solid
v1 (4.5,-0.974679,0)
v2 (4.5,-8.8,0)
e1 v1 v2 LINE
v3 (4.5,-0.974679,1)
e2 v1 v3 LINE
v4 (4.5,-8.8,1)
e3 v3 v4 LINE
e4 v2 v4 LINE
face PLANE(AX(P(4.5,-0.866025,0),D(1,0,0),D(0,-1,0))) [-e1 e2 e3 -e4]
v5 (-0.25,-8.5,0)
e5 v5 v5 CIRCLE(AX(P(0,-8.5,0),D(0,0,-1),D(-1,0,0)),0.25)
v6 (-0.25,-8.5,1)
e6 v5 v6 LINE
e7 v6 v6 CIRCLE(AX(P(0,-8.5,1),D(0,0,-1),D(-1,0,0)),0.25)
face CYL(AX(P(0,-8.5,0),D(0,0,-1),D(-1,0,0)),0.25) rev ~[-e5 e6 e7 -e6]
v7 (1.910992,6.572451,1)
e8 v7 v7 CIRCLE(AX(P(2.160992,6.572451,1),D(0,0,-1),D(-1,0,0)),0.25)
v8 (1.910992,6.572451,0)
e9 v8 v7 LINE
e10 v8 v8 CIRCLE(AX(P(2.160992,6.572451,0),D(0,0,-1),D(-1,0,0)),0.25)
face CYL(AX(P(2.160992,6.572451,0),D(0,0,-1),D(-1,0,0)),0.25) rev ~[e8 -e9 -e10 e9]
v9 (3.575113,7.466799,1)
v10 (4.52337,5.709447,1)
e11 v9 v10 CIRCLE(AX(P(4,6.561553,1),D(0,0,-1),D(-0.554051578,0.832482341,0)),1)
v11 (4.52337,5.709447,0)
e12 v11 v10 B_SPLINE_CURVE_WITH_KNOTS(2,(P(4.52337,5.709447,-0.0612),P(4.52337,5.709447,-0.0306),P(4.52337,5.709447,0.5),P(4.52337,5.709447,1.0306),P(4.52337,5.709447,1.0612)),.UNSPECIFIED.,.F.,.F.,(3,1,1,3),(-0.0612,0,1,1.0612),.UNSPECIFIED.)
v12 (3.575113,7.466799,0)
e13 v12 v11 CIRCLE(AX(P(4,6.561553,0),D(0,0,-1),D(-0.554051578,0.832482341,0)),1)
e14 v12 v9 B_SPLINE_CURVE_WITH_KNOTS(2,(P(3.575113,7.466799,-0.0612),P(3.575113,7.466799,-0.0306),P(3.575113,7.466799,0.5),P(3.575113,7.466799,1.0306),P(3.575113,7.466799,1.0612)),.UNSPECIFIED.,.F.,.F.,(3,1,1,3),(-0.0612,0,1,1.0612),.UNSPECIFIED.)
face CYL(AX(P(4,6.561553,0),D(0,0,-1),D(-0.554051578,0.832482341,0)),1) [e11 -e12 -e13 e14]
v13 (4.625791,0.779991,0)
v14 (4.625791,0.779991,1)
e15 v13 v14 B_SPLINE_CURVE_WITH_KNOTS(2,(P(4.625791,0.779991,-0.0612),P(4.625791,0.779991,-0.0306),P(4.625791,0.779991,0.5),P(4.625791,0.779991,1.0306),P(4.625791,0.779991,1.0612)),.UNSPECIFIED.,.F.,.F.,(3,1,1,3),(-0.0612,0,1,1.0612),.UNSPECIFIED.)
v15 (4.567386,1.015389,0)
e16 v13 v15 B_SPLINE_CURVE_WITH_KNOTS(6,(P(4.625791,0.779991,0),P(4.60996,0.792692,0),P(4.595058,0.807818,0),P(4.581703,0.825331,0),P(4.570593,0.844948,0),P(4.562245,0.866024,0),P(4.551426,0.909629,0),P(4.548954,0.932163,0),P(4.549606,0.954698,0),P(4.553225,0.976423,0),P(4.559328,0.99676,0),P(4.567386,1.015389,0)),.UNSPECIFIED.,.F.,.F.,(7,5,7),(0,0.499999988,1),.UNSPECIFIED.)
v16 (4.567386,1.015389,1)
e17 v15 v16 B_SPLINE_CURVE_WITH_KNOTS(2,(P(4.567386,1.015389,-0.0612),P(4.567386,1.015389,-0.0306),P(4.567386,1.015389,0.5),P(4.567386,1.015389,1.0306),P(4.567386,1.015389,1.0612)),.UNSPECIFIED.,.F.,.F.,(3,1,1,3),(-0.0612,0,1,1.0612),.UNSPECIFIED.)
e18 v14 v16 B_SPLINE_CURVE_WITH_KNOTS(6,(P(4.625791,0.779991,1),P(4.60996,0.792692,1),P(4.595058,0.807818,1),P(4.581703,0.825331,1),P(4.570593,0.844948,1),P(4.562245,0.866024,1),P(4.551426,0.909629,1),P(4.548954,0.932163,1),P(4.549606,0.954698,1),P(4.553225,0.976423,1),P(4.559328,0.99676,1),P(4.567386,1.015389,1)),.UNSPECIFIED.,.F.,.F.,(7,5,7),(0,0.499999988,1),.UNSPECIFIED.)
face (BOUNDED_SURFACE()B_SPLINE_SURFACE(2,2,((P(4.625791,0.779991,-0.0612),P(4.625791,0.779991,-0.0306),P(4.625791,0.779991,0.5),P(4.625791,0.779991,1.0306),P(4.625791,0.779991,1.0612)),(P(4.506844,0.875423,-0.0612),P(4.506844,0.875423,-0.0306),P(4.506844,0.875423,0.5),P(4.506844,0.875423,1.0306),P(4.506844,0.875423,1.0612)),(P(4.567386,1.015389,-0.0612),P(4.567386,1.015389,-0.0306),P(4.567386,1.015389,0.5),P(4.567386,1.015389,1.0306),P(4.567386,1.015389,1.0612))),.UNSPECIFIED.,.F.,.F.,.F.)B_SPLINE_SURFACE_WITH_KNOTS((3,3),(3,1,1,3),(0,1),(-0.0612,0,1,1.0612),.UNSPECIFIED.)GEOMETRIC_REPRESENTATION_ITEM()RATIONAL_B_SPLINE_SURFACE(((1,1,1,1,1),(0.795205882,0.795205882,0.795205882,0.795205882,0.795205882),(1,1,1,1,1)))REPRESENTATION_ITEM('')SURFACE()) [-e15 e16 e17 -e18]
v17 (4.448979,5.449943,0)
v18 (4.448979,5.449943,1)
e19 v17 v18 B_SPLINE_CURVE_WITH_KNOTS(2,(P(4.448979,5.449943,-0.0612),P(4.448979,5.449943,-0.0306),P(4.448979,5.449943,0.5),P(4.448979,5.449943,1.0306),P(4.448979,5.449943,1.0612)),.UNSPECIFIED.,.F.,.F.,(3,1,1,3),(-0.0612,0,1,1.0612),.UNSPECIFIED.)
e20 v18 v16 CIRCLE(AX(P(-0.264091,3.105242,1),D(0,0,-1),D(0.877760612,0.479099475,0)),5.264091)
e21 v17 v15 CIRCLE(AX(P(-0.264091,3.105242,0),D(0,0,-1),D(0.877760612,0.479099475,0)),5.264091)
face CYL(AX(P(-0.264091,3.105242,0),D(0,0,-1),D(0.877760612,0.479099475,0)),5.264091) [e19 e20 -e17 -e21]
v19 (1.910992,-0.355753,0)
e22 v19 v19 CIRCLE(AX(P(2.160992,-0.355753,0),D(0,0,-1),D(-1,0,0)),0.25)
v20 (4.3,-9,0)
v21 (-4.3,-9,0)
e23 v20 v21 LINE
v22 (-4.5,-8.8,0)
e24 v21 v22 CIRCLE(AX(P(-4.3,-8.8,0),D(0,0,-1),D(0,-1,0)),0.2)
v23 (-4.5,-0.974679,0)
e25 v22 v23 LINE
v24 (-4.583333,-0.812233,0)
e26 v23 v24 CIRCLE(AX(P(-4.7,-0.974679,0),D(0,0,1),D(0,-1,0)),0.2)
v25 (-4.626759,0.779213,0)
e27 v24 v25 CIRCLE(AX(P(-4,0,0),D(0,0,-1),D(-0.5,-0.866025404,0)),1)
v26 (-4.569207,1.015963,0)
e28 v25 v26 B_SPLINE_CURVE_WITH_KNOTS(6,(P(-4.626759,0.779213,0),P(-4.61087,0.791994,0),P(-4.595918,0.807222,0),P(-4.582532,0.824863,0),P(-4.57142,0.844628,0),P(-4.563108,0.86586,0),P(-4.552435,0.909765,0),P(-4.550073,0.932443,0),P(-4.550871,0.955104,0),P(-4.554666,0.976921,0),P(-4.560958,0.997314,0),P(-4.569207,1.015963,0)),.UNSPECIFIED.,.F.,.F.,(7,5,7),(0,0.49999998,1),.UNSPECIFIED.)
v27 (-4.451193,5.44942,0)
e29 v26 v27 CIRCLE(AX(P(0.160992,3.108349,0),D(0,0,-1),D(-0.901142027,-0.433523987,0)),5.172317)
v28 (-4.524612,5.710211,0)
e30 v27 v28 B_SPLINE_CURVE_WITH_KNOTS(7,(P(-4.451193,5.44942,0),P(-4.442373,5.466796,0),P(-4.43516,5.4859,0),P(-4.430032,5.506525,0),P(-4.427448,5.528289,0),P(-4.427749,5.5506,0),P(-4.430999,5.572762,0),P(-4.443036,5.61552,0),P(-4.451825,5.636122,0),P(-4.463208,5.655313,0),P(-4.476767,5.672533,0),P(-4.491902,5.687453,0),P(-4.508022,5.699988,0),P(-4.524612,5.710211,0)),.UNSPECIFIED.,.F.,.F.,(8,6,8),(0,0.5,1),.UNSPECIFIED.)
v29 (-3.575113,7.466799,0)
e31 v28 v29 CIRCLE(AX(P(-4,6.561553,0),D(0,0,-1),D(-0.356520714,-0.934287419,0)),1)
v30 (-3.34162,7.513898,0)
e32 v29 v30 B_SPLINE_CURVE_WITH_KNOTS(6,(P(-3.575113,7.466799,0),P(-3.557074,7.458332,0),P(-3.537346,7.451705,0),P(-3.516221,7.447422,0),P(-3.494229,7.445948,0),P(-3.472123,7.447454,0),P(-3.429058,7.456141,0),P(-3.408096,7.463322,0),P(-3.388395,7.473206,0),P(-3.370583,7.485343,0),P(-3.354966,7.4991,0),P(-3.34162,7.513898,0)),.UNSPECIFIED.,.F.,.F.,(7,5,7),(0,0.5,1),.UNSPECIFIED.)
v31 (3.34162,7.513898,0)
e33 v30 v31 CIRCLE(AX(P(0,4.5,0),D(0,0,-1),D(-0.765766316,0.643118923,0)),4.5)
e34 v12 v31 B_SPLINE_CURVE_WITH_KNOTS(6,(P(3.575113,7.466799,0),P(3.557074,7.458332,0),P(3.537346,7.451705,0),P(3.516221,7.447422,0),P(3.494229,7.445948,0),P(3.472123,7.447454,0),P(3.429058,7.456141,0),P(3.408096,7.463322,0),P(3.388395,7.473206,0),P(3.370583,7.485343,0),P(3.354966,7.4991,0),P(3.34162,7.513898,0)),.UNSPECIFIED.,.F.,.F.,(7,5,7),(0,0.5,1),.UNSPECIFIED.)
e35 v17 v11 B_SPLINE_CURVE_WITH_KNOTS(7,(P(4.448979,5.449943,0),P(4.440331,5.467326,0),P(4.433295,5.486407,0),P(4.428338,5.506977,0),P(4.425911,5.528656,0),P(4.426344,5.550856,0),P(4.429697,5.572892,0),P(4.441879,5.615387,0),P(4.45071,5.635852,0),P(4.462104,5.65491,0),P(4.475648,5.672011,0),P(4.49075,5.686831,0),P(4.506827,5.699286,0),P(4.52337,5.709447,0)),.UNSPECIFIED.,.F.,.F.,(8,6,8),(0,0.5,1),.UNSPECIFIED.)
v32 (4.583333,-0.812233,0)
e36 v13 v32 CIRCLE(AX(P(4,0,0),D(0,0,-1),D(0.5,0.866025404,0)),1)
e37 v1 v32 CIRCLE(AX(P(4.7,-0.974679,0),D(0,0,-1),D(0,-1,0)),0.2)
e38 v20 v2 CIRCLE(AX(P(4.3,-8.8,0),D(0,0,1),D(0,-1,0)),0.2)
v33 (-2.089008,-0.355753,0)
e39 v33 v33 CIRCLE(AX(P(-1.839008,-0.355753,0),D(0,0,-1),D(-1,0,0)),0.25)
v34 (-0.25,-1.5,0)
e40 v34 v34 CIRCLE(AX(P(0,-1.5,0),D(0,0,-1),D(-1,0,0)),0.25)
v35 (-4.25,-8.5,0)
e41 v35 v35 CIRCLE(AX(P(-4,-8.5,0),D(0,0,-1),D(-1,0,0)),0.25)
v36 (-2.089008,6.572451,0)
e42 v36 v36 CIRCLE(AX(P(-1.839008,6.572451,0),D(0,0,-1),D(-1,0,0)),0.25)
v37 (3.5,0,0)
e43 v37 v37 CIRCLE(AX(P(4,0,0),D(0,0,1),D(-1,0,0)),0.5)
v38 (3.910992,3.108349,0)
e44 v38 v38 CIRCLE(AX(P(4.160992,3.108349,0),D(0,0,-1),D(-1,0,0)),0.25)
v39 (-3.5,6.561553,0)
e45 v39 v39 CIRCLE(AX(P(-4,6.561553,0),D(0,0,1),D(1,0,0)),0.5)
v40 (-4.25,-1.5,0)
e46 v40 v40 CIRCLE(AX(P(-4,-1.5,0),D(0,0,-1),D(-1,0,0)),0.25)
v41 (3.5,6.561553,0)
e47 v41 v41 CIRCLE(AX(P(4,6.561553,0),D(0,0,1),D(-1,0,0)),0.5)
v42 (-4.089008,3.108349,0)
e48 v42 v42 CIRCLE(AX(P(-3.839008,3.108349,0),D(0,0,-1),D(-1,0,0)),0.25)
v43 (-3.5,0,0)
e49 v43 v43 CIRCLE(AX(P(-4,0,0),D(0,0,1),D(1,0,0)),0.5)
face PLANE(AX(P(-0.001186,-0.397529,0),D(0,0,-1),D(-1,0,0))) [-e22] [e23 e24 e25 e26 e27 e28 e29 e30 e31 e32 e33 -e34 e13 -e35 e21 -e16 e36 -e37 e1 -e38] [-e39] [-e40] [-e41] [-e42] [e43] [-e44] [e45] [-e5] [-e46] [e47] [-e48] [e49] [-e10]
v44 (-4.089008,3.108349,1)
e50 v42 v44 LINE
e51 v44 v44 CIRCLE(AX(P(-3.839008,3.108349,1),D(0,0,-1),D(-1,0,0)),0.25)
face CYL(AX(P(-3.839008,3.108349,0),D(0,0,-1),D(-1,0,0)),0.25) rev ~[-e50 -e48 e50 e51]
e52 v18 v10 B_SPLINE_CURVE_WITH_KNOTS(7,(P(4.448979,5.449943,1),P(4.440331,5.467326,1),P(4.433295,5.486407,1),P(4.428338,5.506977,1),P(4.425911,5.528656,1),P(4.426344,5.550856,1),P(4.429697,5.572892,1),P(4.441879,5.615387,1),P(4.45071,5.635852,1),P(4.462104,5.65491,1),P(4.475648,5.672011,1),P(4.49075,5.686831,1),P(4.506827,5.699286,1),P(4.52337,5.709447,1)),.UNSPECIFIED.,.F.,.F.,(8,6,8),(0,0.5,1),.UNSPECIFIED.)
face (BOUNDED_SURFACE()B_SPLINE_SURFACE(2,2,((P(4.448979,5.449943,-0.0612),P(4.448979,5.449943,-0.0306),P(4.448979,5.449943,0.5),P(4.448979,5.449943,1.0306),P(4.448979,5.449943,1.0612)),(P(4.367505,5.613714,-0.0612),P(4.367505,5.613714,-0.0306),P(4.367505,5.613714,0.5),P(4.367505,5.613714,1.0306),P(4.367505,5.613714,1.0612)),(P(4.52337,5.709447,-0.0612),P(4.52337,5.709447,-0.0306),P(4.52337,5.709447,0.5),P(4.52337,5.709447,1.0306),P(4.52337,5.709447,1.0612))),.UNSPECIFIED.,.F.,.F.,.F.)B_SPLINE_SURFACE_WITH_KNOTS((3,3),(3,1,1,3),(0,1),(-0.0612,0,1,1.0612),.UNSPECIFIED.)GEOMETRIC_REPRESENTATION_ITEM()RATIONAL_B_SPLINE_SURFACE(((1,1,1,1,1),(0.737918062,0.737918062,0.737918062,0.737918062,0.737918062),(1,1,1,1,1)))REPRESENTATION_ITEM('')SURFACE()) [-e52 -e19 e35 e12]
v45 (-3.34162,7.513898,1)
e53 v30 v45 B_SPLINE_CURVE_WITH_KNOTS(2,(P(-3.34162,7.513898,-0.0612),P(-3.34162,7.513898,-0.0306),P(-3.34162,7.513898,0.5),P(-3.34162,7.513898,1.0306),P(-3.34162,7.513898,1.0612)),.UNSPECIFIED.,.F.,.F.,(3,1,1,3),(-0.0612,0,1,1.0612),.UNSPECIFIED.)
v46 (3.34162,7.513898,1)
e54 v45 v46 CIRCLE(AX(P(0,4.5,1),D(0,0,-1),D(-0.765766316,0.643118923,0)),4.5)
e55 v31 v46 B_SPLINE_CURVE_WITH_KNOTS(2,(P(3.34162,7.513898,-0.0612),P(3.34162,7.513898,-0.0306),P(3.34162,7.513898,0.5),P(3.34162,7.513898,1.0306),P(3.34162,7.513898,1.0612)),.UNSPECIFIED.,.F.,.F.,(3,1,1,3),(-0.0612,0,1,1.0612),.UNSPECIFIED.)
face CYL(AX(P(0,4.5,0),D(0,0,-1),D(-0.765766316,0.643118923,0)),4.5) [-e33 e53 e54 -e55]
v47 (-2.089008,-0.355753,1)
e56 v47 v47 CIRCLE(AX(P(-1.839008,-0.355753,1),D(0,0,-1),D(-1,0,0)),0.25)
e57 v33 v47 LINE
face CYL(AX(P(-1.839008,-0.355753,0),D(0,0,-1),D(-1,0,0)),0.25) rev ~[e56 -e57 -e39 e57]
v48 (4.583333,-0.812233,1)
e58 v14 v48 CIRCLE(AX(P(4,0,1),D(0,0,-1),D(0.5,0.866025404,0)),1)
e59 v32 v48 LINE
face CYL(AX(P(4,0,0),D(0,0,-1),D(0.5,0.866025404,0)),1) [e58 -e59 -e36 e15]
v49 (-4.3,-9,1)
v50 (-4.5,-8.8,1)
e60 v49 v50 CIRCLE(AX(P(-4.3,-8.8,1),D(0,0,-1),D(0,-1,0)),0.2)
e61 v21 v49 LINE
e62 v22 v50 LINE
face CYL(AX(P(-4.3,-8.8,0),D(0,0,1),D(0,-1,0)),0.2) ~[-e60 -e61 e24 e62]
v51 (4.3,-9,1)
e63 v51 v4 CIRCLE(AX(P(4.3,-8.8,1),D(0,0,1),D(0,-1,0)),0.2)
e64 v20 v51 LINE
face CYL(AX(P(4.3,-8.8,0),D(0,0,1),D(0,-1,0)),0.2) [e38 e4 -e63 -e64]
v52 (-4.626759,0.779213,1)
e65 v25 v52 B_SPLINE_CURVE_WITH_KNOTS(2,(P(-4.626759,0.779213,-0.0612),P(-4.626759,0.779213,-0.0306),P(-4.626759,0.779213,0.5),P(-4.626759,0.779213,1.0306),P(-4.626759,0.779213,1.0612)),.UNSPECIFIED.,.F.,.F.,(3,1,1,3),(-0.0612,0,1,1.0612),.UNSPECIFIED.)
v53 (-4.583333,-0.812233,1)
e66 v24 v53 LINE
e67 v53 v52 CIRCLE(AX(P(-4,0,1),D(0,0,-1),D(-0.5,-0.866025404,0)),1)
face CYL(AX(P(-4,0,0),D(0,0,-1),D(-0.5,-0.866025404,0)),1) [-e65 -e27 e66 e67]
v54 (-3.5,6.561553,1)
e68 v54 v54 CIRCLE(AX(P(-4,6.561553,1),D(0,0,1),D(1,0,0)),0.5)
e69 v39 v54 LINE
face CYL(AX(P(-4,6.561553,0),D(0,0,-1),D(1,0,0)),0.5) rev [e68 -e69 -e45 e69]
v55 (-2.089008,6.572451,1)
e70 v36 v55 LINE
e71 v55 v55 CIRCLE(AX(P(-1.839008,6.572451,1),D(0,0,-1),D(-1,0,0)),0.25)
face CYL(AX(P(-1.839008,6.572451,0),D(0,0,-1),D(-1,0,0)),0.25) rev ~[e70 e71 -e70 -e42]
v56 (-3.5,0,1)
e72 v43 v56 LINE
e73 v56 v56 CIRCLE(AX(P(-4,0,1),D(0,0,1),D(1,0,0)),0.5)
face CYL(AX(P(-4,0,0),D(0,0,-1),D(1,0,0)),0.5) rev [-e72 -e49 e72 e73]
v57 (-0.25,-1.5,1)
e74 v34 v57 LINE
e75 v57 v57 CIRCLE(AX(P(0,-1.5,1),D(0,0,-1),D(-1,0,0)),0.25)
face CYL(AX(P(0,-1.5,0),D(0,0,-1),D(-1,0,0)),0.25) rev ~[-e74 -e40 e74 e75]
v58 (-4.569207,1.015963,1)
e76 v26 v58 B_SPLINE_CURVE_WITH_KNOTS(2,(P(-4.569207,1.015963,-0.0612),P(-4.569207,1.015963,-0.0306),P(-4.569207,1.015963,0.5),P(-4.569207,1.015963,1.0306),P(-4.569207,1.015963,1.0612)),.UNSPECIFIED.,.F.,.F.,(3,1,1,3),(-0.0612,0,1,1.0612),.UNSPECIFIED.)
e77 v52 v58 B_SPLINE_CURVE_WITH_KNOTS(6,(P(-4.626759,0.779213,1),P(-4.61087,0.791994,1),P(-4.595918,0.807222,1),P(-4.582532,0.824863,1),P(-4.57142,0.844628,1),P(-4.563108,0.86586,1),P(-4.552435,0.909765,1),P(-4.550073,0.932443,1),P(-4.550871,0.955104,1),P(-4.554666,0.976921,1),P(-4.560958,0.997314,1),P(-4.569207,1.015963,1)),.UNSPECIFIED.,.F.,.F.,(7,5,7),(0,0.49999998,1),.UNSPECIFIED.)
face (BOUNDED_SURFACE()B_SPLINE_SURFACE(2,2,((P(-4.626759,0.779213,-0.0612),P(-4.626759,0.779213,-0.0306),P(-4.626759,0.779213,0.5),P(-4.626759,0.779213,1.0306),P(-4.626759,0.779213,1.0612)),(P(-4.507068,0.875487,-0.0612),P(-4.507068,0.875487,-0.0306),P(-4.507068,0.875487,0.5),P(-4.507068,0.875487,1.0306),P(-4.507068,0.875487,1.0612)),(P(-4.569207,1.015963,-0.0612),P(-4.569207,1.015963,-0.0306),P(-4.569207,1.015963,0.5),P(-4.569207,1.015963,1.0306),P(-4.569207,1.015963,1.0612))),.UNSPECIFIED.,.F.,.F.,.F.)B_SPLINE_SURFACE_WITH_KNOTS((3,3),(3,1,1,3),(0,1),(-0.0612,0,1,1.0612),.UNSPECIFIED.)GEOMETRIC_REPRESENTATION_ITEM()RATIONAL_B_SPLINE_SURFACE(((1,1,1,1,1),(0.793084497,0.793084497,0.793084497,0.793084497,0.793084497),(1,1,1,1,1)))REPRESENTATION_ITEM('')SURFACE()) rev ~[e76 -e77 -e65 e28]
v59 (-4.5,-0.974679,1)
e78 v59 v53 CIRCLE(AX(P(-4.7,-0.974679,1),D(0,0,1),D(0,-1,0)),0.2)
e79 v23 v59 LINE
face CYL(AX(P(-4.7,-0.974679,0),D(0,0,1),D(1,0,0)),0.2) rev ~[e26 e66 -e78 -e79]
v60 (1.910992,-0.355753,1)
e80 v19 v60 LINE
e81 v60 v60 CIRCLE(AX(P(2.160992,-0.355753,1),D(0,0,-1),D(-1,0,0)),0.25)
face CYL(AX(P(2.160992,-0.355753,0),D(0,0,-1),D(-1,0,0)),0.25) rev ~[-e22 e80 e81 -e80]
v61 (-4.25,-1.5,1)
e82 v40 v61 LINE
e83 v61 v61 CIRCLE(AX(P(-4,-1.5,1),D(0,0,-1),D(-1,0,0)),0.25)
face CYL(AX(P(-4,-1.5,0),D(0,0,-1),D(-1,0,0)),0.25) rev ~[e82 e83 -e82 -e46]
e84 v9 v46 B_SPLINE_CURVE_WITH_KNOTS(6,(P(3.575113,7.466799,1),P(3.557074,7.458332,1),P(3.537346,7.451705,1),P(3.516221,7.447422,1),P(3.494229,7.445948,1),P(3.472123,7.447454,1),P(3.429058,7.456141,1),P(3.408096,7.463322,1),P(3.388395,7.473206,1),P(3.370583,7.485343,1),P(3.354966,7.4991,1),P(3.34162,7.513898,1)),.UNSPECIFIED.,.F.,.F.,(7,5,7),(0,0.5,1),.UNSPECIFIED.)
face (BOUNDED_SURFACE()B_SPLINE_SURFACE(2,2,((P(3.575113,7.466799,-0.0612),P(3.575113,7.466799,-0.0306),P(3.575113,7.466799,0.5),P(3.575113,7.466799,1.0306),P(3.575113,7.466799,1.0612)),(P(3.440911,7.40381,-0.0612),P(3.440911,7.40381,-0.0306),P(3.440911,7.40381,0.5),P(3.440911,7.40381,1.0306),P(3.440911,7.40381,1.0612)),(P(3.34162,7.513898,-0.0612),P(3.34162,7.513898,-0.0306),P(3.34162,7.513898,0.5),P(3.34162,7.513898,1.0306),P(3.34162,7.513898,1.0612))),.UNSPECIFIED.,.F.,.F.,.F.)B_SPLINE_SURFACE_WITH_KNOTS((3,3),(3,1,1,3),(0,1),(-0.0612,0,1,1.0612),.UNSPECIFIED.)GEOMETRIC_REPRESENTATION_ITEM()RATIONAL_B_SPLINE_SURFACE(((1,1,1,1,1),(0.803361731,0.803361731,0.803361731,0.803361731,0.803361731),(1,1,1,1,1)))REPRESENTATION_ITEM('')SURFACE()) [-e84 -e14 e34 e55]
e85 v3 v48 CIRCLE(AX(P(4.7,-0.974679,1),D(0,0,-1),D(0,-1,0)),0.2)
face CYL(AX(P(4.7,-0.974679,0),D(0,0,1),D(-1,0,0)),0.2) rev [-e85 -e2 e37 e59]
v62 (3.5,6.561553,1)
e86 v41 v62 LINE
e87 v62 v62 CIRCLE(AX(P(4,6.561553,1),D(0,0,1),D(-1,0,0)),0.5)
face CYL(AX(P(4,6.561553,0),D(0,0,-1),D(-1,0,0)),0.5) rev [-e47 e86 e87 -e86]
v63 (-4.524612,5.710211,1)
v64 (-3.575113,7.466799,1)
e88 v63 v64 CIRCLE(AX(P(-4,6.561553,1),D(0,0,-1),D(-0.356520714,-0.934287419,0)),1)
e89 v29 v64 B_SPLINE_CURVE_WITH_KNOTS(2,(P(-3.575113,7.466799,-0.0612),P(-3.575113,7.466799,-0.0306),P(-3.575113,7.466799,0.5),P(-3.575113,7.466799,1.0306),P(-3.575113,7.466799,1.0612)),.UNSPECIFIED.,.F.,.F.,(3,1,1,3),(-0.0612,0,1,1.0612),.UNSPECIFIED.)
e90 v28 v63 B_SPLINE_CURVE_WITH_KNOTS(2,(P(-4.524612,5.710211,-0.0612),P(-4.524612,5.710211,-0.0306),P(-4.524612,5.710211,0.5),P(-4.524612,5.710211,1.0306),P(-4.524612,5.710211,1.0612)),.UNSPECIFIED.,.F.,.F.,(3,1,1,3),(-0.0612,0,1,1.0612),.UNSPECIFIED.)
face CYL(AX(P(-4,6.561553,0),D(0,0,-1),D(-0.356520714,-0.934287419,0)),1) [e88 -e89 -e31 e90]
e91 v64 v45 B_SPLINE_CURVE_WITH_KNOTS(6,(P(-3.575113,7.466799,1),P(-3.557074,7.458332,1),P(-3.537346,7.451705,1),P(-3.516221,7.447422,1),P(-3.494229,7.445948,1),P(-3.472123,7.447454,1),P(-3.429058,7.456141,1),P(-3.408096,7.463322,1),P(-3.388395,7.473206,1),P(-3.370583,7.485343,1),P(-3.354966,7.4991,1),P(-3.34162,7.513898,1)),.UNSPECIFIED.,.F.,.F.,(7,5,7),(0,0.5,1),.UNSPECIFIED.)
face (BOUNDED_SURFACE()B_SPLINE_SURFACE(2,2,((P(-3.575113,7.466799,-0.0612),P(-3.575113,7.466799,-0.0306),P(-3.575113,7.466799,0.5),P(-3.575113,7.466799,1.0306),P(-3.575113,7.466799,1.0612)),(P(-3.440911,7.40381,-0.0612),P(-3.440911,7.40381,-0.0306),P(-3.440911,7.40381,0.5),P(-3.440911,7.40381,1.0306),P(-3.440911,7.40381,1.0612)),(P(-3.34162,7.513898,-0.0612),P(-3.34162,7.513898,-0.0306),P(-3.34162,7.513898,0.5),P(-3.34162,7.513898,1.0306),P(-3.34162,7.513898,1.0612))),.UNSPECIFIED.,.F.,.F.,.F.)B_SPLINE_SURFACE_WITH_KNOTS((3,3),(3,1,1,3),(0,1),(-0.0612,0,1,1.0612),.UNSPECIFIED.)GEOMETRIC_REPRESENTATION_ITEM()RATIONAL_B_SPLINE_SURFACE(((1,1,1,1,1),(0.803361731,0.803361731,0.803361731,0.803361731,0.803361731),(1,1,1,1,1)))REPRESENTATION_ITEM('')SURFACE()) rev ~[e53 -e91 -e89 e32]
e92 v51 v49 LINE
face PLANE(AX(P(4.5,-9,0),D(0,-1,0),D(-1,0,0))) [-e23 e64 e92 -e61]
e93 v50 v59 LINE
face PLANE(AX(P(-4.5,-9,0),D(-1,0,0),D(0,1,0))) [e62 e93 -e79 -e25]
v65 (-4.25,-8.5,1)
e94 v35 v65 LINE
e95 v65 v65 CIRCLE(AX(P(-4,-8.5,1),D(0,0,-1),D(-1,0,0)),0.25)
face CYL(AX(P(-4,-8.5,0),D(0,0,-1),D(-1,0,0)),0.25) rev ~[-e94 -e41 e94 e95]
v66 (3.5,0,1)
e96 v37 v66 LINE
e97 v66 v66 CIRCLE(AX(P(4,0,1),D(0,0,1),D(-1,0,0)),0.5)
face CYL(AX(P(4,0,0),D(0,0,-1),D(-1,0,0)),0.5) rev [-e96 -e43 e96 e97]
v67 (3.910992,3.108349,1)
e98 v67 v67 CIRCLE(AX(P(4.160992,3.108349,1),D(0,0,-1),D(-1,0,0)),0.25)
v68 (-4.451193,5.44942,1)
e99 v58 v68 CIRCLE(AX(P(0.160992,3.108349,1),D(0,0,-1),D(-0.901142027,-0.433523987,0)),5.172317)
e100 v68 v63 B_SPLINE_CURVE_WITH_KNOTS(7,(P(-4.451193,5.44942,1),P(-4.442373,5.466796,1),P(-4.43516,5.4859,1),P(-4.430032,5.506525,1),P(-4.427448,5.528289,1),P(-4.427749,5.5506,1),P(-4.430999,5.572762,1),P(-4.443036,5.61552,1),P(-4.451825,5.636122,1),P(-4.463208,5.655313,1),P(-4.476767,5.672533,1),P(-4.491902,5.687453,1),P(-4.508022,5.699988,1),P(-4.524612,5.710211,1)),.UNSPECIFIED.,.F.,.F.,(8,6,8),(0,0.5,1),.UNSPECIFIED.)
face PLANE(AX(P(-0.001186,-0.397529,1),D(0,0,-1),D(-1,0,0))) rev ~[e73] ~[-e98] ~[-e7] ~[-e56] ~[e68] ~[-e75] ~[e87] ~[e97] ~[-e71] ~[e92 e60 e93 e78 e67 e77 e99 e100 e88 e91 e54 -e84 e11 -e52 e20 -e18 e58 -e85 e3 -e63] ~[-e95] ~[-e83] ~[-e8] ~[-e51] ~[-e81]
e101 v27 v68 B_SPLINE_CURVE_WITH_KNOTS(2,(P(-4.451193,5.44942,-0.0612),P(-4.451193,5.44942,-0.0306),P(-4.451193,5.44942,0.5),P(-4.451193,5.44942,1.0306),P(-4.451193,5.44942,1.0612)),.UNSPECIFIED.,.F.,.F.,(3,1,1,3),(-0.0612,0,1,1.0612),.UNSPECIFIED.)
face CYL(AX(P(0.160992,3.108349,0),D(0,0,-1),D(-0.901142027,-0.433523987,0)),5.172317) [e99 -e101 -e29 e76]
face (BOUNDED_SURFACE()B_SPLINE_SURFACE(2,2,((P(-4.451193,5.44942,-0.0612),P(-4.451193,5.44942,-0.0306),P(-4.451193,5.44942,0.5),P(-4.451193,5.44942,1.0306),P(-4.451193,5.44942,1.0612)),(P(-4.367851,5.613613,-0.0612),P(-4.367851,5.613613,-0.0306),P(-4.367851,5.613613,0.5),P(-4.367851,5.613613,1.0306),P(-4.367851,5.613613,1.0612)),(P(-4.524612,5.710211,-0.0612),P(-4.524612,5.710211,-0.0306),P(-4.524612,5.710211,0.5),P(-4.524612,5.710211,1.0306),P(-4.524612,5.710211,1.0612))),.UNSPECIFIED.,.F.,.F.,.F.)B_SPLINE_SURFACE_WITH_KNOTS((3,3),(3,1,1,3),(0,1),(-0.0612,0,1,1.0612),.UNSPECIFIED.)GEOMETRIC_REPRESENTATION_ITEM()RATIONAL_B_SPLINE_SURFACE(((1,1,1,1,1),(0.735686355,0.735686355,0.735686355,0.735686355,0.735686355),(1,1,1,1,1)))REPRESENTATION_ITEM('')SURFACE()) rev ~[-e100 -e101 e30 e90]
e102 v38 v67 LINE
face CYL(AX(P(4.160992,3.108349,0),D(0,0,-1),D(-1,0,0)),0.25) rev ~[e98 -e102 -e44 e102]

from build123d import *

# Parameters (mm, degrees)
SKETCH1_R           = 0.5
BOSS_EXTRUDE2_DEPTH = 1
FILLET2_R           = 0.2
SKETCH3_R           = 0.25
CUT_EXTRUDE1_DEPTH  = 1
SKETCH4_R           = 0.25
CUT_EXTRUDE2_DEPTH  = 1


with BuildPart() as part:
    # Sketch1 → Boss-Extrude2 (new body)
    with BuildSketch(Plane.XY):
        with BuildLine():
            Line((4.5, -9), (0, -9))
            Line((0, -9), (-4.5, -9))
            Line((-4.5, -9), (-4.5, -0.866025404))
            ThreePointArc((-4.5, -0.866025404), (-5, 0), (-4.5, 0.866025404))
            ThreePointArc((-4.5, 0.866025404), (-5.008977866, 3.264145238), (-4.356520714, 5.627265394))
            ThreePointArc((-4.356520714, 5.627265394), (-4.888888889, 7.01967566), (-3.445948422, 7.394035154))
            ThreePointArc((-3.445948422, 7.394035154), (0, 9), (3.445948422, 7.394035154))
            ThreePointArc((3.445948422, 7.394035154), (4.888888889, 7.01967566), (4.356520714, 5.627265394))
            ThreePointArc((4.356520714, 5.627265394), (4.997611441, 3.263802712), (4.5, 0.866025404))
            ThreePointArc((4.5, 0.866025404), (5, 0), (4.5, -0.866025404))
            Line((4.5, -0.866025404), (4.5, -9))
        make_face()
        with Locations((-4, 0)):
            Circle(SKETCH1_R, mode=Mode.SUBTRACT)
        with Locations((-4, 6.561552813)):
            Circle(SKETCH1_R, mode=Mode.SUBTRACT)
        with Locations(Location((4, 6.561552813, 0), (0, 0, 180))):
            Circle(SKETCH1_R, mode=Mode.SUBTRACT)
        with Locations(Location((4, 0, 0), (0, 0, 180))):
            Circle(SKETCH1_R, mode=Mode.SUBTRACT)
    extrude(amount=BOSS_EXTRUDE2_DEPTH)

    # Fillet2
    fillet2_edges = [part.edges().sort_by_distance(p)[0] for p in [
        (-4.5, -9, 0.5),
        (-4.5, -0.866025404, 0.5),
        (-4.5, 0.866025404, 0.5),
        (-4.356520714, 5.627265394, 0.5),
        (-3.445948422, 7.394035154, 0.5),
        (3.445948422, 7.394035154, 0.5),
        (4.356520714, 5.627265394, 0.5),
        (4.5, 0.866025404, 0.5),
        (4.5, -0.866025404, 0.5),
        (4.5, -9, 0.5),
    ]]
    fillet(fillet2_edges, radius=FILLET2_R)

    # Sketch3 → Cut-Extrude1 (cut)
    with BuildSketch(Plane(origin=(0, 0, 0), x_dir=(-1, 0, 0), z_dir=(0, 0, -1))):
        with Locations((3.839007705, 3.108348927)):
            Circle(SKETCH3_R)
        with Locations((1.839007705, -0.355752688)):
            Circle(SKETCH3_R)
        with Locations((-2.160992295, -0.355752688)):
            Circle(SKETCH3_R)
        with Locations((-4.160992295, 3.108348927)):
            Circle(SKETCH3_R)
        with Locations((-2.160992295, 6.572450542)):
            Circle(SKETCH3_R)
        with Locations((1.839007705, 6.572450542)):
            Circle(SKETCH3_R)
    extrude(amount=-CUT_EXTRUDE1_DEPTH, mode=Mode.SUBTRACT)

    # Sketch4 → Cut-Extrude2 (cut)
    with BuildSketch(Plane(origin=(0, 0, 0), x_dir=(-1, 0, 0), z_dir=(0, 0, -1))):
        with Locations((4, -1.5)):
            Circle(SKETCH4_R)
        with Locations((4, -8.5)):
            Circle(SKETCH4_R)
        with Locations((0, -1.5)):
            Circle(SKETCH4_R)
        with Locations((0, -8.5)):
            Circle(SKETCH4_R)
    extrude(amount=-CUT_EXTRUDE2_DEPTH, mode=Mode.SUBTRACT)


solid = part.part
